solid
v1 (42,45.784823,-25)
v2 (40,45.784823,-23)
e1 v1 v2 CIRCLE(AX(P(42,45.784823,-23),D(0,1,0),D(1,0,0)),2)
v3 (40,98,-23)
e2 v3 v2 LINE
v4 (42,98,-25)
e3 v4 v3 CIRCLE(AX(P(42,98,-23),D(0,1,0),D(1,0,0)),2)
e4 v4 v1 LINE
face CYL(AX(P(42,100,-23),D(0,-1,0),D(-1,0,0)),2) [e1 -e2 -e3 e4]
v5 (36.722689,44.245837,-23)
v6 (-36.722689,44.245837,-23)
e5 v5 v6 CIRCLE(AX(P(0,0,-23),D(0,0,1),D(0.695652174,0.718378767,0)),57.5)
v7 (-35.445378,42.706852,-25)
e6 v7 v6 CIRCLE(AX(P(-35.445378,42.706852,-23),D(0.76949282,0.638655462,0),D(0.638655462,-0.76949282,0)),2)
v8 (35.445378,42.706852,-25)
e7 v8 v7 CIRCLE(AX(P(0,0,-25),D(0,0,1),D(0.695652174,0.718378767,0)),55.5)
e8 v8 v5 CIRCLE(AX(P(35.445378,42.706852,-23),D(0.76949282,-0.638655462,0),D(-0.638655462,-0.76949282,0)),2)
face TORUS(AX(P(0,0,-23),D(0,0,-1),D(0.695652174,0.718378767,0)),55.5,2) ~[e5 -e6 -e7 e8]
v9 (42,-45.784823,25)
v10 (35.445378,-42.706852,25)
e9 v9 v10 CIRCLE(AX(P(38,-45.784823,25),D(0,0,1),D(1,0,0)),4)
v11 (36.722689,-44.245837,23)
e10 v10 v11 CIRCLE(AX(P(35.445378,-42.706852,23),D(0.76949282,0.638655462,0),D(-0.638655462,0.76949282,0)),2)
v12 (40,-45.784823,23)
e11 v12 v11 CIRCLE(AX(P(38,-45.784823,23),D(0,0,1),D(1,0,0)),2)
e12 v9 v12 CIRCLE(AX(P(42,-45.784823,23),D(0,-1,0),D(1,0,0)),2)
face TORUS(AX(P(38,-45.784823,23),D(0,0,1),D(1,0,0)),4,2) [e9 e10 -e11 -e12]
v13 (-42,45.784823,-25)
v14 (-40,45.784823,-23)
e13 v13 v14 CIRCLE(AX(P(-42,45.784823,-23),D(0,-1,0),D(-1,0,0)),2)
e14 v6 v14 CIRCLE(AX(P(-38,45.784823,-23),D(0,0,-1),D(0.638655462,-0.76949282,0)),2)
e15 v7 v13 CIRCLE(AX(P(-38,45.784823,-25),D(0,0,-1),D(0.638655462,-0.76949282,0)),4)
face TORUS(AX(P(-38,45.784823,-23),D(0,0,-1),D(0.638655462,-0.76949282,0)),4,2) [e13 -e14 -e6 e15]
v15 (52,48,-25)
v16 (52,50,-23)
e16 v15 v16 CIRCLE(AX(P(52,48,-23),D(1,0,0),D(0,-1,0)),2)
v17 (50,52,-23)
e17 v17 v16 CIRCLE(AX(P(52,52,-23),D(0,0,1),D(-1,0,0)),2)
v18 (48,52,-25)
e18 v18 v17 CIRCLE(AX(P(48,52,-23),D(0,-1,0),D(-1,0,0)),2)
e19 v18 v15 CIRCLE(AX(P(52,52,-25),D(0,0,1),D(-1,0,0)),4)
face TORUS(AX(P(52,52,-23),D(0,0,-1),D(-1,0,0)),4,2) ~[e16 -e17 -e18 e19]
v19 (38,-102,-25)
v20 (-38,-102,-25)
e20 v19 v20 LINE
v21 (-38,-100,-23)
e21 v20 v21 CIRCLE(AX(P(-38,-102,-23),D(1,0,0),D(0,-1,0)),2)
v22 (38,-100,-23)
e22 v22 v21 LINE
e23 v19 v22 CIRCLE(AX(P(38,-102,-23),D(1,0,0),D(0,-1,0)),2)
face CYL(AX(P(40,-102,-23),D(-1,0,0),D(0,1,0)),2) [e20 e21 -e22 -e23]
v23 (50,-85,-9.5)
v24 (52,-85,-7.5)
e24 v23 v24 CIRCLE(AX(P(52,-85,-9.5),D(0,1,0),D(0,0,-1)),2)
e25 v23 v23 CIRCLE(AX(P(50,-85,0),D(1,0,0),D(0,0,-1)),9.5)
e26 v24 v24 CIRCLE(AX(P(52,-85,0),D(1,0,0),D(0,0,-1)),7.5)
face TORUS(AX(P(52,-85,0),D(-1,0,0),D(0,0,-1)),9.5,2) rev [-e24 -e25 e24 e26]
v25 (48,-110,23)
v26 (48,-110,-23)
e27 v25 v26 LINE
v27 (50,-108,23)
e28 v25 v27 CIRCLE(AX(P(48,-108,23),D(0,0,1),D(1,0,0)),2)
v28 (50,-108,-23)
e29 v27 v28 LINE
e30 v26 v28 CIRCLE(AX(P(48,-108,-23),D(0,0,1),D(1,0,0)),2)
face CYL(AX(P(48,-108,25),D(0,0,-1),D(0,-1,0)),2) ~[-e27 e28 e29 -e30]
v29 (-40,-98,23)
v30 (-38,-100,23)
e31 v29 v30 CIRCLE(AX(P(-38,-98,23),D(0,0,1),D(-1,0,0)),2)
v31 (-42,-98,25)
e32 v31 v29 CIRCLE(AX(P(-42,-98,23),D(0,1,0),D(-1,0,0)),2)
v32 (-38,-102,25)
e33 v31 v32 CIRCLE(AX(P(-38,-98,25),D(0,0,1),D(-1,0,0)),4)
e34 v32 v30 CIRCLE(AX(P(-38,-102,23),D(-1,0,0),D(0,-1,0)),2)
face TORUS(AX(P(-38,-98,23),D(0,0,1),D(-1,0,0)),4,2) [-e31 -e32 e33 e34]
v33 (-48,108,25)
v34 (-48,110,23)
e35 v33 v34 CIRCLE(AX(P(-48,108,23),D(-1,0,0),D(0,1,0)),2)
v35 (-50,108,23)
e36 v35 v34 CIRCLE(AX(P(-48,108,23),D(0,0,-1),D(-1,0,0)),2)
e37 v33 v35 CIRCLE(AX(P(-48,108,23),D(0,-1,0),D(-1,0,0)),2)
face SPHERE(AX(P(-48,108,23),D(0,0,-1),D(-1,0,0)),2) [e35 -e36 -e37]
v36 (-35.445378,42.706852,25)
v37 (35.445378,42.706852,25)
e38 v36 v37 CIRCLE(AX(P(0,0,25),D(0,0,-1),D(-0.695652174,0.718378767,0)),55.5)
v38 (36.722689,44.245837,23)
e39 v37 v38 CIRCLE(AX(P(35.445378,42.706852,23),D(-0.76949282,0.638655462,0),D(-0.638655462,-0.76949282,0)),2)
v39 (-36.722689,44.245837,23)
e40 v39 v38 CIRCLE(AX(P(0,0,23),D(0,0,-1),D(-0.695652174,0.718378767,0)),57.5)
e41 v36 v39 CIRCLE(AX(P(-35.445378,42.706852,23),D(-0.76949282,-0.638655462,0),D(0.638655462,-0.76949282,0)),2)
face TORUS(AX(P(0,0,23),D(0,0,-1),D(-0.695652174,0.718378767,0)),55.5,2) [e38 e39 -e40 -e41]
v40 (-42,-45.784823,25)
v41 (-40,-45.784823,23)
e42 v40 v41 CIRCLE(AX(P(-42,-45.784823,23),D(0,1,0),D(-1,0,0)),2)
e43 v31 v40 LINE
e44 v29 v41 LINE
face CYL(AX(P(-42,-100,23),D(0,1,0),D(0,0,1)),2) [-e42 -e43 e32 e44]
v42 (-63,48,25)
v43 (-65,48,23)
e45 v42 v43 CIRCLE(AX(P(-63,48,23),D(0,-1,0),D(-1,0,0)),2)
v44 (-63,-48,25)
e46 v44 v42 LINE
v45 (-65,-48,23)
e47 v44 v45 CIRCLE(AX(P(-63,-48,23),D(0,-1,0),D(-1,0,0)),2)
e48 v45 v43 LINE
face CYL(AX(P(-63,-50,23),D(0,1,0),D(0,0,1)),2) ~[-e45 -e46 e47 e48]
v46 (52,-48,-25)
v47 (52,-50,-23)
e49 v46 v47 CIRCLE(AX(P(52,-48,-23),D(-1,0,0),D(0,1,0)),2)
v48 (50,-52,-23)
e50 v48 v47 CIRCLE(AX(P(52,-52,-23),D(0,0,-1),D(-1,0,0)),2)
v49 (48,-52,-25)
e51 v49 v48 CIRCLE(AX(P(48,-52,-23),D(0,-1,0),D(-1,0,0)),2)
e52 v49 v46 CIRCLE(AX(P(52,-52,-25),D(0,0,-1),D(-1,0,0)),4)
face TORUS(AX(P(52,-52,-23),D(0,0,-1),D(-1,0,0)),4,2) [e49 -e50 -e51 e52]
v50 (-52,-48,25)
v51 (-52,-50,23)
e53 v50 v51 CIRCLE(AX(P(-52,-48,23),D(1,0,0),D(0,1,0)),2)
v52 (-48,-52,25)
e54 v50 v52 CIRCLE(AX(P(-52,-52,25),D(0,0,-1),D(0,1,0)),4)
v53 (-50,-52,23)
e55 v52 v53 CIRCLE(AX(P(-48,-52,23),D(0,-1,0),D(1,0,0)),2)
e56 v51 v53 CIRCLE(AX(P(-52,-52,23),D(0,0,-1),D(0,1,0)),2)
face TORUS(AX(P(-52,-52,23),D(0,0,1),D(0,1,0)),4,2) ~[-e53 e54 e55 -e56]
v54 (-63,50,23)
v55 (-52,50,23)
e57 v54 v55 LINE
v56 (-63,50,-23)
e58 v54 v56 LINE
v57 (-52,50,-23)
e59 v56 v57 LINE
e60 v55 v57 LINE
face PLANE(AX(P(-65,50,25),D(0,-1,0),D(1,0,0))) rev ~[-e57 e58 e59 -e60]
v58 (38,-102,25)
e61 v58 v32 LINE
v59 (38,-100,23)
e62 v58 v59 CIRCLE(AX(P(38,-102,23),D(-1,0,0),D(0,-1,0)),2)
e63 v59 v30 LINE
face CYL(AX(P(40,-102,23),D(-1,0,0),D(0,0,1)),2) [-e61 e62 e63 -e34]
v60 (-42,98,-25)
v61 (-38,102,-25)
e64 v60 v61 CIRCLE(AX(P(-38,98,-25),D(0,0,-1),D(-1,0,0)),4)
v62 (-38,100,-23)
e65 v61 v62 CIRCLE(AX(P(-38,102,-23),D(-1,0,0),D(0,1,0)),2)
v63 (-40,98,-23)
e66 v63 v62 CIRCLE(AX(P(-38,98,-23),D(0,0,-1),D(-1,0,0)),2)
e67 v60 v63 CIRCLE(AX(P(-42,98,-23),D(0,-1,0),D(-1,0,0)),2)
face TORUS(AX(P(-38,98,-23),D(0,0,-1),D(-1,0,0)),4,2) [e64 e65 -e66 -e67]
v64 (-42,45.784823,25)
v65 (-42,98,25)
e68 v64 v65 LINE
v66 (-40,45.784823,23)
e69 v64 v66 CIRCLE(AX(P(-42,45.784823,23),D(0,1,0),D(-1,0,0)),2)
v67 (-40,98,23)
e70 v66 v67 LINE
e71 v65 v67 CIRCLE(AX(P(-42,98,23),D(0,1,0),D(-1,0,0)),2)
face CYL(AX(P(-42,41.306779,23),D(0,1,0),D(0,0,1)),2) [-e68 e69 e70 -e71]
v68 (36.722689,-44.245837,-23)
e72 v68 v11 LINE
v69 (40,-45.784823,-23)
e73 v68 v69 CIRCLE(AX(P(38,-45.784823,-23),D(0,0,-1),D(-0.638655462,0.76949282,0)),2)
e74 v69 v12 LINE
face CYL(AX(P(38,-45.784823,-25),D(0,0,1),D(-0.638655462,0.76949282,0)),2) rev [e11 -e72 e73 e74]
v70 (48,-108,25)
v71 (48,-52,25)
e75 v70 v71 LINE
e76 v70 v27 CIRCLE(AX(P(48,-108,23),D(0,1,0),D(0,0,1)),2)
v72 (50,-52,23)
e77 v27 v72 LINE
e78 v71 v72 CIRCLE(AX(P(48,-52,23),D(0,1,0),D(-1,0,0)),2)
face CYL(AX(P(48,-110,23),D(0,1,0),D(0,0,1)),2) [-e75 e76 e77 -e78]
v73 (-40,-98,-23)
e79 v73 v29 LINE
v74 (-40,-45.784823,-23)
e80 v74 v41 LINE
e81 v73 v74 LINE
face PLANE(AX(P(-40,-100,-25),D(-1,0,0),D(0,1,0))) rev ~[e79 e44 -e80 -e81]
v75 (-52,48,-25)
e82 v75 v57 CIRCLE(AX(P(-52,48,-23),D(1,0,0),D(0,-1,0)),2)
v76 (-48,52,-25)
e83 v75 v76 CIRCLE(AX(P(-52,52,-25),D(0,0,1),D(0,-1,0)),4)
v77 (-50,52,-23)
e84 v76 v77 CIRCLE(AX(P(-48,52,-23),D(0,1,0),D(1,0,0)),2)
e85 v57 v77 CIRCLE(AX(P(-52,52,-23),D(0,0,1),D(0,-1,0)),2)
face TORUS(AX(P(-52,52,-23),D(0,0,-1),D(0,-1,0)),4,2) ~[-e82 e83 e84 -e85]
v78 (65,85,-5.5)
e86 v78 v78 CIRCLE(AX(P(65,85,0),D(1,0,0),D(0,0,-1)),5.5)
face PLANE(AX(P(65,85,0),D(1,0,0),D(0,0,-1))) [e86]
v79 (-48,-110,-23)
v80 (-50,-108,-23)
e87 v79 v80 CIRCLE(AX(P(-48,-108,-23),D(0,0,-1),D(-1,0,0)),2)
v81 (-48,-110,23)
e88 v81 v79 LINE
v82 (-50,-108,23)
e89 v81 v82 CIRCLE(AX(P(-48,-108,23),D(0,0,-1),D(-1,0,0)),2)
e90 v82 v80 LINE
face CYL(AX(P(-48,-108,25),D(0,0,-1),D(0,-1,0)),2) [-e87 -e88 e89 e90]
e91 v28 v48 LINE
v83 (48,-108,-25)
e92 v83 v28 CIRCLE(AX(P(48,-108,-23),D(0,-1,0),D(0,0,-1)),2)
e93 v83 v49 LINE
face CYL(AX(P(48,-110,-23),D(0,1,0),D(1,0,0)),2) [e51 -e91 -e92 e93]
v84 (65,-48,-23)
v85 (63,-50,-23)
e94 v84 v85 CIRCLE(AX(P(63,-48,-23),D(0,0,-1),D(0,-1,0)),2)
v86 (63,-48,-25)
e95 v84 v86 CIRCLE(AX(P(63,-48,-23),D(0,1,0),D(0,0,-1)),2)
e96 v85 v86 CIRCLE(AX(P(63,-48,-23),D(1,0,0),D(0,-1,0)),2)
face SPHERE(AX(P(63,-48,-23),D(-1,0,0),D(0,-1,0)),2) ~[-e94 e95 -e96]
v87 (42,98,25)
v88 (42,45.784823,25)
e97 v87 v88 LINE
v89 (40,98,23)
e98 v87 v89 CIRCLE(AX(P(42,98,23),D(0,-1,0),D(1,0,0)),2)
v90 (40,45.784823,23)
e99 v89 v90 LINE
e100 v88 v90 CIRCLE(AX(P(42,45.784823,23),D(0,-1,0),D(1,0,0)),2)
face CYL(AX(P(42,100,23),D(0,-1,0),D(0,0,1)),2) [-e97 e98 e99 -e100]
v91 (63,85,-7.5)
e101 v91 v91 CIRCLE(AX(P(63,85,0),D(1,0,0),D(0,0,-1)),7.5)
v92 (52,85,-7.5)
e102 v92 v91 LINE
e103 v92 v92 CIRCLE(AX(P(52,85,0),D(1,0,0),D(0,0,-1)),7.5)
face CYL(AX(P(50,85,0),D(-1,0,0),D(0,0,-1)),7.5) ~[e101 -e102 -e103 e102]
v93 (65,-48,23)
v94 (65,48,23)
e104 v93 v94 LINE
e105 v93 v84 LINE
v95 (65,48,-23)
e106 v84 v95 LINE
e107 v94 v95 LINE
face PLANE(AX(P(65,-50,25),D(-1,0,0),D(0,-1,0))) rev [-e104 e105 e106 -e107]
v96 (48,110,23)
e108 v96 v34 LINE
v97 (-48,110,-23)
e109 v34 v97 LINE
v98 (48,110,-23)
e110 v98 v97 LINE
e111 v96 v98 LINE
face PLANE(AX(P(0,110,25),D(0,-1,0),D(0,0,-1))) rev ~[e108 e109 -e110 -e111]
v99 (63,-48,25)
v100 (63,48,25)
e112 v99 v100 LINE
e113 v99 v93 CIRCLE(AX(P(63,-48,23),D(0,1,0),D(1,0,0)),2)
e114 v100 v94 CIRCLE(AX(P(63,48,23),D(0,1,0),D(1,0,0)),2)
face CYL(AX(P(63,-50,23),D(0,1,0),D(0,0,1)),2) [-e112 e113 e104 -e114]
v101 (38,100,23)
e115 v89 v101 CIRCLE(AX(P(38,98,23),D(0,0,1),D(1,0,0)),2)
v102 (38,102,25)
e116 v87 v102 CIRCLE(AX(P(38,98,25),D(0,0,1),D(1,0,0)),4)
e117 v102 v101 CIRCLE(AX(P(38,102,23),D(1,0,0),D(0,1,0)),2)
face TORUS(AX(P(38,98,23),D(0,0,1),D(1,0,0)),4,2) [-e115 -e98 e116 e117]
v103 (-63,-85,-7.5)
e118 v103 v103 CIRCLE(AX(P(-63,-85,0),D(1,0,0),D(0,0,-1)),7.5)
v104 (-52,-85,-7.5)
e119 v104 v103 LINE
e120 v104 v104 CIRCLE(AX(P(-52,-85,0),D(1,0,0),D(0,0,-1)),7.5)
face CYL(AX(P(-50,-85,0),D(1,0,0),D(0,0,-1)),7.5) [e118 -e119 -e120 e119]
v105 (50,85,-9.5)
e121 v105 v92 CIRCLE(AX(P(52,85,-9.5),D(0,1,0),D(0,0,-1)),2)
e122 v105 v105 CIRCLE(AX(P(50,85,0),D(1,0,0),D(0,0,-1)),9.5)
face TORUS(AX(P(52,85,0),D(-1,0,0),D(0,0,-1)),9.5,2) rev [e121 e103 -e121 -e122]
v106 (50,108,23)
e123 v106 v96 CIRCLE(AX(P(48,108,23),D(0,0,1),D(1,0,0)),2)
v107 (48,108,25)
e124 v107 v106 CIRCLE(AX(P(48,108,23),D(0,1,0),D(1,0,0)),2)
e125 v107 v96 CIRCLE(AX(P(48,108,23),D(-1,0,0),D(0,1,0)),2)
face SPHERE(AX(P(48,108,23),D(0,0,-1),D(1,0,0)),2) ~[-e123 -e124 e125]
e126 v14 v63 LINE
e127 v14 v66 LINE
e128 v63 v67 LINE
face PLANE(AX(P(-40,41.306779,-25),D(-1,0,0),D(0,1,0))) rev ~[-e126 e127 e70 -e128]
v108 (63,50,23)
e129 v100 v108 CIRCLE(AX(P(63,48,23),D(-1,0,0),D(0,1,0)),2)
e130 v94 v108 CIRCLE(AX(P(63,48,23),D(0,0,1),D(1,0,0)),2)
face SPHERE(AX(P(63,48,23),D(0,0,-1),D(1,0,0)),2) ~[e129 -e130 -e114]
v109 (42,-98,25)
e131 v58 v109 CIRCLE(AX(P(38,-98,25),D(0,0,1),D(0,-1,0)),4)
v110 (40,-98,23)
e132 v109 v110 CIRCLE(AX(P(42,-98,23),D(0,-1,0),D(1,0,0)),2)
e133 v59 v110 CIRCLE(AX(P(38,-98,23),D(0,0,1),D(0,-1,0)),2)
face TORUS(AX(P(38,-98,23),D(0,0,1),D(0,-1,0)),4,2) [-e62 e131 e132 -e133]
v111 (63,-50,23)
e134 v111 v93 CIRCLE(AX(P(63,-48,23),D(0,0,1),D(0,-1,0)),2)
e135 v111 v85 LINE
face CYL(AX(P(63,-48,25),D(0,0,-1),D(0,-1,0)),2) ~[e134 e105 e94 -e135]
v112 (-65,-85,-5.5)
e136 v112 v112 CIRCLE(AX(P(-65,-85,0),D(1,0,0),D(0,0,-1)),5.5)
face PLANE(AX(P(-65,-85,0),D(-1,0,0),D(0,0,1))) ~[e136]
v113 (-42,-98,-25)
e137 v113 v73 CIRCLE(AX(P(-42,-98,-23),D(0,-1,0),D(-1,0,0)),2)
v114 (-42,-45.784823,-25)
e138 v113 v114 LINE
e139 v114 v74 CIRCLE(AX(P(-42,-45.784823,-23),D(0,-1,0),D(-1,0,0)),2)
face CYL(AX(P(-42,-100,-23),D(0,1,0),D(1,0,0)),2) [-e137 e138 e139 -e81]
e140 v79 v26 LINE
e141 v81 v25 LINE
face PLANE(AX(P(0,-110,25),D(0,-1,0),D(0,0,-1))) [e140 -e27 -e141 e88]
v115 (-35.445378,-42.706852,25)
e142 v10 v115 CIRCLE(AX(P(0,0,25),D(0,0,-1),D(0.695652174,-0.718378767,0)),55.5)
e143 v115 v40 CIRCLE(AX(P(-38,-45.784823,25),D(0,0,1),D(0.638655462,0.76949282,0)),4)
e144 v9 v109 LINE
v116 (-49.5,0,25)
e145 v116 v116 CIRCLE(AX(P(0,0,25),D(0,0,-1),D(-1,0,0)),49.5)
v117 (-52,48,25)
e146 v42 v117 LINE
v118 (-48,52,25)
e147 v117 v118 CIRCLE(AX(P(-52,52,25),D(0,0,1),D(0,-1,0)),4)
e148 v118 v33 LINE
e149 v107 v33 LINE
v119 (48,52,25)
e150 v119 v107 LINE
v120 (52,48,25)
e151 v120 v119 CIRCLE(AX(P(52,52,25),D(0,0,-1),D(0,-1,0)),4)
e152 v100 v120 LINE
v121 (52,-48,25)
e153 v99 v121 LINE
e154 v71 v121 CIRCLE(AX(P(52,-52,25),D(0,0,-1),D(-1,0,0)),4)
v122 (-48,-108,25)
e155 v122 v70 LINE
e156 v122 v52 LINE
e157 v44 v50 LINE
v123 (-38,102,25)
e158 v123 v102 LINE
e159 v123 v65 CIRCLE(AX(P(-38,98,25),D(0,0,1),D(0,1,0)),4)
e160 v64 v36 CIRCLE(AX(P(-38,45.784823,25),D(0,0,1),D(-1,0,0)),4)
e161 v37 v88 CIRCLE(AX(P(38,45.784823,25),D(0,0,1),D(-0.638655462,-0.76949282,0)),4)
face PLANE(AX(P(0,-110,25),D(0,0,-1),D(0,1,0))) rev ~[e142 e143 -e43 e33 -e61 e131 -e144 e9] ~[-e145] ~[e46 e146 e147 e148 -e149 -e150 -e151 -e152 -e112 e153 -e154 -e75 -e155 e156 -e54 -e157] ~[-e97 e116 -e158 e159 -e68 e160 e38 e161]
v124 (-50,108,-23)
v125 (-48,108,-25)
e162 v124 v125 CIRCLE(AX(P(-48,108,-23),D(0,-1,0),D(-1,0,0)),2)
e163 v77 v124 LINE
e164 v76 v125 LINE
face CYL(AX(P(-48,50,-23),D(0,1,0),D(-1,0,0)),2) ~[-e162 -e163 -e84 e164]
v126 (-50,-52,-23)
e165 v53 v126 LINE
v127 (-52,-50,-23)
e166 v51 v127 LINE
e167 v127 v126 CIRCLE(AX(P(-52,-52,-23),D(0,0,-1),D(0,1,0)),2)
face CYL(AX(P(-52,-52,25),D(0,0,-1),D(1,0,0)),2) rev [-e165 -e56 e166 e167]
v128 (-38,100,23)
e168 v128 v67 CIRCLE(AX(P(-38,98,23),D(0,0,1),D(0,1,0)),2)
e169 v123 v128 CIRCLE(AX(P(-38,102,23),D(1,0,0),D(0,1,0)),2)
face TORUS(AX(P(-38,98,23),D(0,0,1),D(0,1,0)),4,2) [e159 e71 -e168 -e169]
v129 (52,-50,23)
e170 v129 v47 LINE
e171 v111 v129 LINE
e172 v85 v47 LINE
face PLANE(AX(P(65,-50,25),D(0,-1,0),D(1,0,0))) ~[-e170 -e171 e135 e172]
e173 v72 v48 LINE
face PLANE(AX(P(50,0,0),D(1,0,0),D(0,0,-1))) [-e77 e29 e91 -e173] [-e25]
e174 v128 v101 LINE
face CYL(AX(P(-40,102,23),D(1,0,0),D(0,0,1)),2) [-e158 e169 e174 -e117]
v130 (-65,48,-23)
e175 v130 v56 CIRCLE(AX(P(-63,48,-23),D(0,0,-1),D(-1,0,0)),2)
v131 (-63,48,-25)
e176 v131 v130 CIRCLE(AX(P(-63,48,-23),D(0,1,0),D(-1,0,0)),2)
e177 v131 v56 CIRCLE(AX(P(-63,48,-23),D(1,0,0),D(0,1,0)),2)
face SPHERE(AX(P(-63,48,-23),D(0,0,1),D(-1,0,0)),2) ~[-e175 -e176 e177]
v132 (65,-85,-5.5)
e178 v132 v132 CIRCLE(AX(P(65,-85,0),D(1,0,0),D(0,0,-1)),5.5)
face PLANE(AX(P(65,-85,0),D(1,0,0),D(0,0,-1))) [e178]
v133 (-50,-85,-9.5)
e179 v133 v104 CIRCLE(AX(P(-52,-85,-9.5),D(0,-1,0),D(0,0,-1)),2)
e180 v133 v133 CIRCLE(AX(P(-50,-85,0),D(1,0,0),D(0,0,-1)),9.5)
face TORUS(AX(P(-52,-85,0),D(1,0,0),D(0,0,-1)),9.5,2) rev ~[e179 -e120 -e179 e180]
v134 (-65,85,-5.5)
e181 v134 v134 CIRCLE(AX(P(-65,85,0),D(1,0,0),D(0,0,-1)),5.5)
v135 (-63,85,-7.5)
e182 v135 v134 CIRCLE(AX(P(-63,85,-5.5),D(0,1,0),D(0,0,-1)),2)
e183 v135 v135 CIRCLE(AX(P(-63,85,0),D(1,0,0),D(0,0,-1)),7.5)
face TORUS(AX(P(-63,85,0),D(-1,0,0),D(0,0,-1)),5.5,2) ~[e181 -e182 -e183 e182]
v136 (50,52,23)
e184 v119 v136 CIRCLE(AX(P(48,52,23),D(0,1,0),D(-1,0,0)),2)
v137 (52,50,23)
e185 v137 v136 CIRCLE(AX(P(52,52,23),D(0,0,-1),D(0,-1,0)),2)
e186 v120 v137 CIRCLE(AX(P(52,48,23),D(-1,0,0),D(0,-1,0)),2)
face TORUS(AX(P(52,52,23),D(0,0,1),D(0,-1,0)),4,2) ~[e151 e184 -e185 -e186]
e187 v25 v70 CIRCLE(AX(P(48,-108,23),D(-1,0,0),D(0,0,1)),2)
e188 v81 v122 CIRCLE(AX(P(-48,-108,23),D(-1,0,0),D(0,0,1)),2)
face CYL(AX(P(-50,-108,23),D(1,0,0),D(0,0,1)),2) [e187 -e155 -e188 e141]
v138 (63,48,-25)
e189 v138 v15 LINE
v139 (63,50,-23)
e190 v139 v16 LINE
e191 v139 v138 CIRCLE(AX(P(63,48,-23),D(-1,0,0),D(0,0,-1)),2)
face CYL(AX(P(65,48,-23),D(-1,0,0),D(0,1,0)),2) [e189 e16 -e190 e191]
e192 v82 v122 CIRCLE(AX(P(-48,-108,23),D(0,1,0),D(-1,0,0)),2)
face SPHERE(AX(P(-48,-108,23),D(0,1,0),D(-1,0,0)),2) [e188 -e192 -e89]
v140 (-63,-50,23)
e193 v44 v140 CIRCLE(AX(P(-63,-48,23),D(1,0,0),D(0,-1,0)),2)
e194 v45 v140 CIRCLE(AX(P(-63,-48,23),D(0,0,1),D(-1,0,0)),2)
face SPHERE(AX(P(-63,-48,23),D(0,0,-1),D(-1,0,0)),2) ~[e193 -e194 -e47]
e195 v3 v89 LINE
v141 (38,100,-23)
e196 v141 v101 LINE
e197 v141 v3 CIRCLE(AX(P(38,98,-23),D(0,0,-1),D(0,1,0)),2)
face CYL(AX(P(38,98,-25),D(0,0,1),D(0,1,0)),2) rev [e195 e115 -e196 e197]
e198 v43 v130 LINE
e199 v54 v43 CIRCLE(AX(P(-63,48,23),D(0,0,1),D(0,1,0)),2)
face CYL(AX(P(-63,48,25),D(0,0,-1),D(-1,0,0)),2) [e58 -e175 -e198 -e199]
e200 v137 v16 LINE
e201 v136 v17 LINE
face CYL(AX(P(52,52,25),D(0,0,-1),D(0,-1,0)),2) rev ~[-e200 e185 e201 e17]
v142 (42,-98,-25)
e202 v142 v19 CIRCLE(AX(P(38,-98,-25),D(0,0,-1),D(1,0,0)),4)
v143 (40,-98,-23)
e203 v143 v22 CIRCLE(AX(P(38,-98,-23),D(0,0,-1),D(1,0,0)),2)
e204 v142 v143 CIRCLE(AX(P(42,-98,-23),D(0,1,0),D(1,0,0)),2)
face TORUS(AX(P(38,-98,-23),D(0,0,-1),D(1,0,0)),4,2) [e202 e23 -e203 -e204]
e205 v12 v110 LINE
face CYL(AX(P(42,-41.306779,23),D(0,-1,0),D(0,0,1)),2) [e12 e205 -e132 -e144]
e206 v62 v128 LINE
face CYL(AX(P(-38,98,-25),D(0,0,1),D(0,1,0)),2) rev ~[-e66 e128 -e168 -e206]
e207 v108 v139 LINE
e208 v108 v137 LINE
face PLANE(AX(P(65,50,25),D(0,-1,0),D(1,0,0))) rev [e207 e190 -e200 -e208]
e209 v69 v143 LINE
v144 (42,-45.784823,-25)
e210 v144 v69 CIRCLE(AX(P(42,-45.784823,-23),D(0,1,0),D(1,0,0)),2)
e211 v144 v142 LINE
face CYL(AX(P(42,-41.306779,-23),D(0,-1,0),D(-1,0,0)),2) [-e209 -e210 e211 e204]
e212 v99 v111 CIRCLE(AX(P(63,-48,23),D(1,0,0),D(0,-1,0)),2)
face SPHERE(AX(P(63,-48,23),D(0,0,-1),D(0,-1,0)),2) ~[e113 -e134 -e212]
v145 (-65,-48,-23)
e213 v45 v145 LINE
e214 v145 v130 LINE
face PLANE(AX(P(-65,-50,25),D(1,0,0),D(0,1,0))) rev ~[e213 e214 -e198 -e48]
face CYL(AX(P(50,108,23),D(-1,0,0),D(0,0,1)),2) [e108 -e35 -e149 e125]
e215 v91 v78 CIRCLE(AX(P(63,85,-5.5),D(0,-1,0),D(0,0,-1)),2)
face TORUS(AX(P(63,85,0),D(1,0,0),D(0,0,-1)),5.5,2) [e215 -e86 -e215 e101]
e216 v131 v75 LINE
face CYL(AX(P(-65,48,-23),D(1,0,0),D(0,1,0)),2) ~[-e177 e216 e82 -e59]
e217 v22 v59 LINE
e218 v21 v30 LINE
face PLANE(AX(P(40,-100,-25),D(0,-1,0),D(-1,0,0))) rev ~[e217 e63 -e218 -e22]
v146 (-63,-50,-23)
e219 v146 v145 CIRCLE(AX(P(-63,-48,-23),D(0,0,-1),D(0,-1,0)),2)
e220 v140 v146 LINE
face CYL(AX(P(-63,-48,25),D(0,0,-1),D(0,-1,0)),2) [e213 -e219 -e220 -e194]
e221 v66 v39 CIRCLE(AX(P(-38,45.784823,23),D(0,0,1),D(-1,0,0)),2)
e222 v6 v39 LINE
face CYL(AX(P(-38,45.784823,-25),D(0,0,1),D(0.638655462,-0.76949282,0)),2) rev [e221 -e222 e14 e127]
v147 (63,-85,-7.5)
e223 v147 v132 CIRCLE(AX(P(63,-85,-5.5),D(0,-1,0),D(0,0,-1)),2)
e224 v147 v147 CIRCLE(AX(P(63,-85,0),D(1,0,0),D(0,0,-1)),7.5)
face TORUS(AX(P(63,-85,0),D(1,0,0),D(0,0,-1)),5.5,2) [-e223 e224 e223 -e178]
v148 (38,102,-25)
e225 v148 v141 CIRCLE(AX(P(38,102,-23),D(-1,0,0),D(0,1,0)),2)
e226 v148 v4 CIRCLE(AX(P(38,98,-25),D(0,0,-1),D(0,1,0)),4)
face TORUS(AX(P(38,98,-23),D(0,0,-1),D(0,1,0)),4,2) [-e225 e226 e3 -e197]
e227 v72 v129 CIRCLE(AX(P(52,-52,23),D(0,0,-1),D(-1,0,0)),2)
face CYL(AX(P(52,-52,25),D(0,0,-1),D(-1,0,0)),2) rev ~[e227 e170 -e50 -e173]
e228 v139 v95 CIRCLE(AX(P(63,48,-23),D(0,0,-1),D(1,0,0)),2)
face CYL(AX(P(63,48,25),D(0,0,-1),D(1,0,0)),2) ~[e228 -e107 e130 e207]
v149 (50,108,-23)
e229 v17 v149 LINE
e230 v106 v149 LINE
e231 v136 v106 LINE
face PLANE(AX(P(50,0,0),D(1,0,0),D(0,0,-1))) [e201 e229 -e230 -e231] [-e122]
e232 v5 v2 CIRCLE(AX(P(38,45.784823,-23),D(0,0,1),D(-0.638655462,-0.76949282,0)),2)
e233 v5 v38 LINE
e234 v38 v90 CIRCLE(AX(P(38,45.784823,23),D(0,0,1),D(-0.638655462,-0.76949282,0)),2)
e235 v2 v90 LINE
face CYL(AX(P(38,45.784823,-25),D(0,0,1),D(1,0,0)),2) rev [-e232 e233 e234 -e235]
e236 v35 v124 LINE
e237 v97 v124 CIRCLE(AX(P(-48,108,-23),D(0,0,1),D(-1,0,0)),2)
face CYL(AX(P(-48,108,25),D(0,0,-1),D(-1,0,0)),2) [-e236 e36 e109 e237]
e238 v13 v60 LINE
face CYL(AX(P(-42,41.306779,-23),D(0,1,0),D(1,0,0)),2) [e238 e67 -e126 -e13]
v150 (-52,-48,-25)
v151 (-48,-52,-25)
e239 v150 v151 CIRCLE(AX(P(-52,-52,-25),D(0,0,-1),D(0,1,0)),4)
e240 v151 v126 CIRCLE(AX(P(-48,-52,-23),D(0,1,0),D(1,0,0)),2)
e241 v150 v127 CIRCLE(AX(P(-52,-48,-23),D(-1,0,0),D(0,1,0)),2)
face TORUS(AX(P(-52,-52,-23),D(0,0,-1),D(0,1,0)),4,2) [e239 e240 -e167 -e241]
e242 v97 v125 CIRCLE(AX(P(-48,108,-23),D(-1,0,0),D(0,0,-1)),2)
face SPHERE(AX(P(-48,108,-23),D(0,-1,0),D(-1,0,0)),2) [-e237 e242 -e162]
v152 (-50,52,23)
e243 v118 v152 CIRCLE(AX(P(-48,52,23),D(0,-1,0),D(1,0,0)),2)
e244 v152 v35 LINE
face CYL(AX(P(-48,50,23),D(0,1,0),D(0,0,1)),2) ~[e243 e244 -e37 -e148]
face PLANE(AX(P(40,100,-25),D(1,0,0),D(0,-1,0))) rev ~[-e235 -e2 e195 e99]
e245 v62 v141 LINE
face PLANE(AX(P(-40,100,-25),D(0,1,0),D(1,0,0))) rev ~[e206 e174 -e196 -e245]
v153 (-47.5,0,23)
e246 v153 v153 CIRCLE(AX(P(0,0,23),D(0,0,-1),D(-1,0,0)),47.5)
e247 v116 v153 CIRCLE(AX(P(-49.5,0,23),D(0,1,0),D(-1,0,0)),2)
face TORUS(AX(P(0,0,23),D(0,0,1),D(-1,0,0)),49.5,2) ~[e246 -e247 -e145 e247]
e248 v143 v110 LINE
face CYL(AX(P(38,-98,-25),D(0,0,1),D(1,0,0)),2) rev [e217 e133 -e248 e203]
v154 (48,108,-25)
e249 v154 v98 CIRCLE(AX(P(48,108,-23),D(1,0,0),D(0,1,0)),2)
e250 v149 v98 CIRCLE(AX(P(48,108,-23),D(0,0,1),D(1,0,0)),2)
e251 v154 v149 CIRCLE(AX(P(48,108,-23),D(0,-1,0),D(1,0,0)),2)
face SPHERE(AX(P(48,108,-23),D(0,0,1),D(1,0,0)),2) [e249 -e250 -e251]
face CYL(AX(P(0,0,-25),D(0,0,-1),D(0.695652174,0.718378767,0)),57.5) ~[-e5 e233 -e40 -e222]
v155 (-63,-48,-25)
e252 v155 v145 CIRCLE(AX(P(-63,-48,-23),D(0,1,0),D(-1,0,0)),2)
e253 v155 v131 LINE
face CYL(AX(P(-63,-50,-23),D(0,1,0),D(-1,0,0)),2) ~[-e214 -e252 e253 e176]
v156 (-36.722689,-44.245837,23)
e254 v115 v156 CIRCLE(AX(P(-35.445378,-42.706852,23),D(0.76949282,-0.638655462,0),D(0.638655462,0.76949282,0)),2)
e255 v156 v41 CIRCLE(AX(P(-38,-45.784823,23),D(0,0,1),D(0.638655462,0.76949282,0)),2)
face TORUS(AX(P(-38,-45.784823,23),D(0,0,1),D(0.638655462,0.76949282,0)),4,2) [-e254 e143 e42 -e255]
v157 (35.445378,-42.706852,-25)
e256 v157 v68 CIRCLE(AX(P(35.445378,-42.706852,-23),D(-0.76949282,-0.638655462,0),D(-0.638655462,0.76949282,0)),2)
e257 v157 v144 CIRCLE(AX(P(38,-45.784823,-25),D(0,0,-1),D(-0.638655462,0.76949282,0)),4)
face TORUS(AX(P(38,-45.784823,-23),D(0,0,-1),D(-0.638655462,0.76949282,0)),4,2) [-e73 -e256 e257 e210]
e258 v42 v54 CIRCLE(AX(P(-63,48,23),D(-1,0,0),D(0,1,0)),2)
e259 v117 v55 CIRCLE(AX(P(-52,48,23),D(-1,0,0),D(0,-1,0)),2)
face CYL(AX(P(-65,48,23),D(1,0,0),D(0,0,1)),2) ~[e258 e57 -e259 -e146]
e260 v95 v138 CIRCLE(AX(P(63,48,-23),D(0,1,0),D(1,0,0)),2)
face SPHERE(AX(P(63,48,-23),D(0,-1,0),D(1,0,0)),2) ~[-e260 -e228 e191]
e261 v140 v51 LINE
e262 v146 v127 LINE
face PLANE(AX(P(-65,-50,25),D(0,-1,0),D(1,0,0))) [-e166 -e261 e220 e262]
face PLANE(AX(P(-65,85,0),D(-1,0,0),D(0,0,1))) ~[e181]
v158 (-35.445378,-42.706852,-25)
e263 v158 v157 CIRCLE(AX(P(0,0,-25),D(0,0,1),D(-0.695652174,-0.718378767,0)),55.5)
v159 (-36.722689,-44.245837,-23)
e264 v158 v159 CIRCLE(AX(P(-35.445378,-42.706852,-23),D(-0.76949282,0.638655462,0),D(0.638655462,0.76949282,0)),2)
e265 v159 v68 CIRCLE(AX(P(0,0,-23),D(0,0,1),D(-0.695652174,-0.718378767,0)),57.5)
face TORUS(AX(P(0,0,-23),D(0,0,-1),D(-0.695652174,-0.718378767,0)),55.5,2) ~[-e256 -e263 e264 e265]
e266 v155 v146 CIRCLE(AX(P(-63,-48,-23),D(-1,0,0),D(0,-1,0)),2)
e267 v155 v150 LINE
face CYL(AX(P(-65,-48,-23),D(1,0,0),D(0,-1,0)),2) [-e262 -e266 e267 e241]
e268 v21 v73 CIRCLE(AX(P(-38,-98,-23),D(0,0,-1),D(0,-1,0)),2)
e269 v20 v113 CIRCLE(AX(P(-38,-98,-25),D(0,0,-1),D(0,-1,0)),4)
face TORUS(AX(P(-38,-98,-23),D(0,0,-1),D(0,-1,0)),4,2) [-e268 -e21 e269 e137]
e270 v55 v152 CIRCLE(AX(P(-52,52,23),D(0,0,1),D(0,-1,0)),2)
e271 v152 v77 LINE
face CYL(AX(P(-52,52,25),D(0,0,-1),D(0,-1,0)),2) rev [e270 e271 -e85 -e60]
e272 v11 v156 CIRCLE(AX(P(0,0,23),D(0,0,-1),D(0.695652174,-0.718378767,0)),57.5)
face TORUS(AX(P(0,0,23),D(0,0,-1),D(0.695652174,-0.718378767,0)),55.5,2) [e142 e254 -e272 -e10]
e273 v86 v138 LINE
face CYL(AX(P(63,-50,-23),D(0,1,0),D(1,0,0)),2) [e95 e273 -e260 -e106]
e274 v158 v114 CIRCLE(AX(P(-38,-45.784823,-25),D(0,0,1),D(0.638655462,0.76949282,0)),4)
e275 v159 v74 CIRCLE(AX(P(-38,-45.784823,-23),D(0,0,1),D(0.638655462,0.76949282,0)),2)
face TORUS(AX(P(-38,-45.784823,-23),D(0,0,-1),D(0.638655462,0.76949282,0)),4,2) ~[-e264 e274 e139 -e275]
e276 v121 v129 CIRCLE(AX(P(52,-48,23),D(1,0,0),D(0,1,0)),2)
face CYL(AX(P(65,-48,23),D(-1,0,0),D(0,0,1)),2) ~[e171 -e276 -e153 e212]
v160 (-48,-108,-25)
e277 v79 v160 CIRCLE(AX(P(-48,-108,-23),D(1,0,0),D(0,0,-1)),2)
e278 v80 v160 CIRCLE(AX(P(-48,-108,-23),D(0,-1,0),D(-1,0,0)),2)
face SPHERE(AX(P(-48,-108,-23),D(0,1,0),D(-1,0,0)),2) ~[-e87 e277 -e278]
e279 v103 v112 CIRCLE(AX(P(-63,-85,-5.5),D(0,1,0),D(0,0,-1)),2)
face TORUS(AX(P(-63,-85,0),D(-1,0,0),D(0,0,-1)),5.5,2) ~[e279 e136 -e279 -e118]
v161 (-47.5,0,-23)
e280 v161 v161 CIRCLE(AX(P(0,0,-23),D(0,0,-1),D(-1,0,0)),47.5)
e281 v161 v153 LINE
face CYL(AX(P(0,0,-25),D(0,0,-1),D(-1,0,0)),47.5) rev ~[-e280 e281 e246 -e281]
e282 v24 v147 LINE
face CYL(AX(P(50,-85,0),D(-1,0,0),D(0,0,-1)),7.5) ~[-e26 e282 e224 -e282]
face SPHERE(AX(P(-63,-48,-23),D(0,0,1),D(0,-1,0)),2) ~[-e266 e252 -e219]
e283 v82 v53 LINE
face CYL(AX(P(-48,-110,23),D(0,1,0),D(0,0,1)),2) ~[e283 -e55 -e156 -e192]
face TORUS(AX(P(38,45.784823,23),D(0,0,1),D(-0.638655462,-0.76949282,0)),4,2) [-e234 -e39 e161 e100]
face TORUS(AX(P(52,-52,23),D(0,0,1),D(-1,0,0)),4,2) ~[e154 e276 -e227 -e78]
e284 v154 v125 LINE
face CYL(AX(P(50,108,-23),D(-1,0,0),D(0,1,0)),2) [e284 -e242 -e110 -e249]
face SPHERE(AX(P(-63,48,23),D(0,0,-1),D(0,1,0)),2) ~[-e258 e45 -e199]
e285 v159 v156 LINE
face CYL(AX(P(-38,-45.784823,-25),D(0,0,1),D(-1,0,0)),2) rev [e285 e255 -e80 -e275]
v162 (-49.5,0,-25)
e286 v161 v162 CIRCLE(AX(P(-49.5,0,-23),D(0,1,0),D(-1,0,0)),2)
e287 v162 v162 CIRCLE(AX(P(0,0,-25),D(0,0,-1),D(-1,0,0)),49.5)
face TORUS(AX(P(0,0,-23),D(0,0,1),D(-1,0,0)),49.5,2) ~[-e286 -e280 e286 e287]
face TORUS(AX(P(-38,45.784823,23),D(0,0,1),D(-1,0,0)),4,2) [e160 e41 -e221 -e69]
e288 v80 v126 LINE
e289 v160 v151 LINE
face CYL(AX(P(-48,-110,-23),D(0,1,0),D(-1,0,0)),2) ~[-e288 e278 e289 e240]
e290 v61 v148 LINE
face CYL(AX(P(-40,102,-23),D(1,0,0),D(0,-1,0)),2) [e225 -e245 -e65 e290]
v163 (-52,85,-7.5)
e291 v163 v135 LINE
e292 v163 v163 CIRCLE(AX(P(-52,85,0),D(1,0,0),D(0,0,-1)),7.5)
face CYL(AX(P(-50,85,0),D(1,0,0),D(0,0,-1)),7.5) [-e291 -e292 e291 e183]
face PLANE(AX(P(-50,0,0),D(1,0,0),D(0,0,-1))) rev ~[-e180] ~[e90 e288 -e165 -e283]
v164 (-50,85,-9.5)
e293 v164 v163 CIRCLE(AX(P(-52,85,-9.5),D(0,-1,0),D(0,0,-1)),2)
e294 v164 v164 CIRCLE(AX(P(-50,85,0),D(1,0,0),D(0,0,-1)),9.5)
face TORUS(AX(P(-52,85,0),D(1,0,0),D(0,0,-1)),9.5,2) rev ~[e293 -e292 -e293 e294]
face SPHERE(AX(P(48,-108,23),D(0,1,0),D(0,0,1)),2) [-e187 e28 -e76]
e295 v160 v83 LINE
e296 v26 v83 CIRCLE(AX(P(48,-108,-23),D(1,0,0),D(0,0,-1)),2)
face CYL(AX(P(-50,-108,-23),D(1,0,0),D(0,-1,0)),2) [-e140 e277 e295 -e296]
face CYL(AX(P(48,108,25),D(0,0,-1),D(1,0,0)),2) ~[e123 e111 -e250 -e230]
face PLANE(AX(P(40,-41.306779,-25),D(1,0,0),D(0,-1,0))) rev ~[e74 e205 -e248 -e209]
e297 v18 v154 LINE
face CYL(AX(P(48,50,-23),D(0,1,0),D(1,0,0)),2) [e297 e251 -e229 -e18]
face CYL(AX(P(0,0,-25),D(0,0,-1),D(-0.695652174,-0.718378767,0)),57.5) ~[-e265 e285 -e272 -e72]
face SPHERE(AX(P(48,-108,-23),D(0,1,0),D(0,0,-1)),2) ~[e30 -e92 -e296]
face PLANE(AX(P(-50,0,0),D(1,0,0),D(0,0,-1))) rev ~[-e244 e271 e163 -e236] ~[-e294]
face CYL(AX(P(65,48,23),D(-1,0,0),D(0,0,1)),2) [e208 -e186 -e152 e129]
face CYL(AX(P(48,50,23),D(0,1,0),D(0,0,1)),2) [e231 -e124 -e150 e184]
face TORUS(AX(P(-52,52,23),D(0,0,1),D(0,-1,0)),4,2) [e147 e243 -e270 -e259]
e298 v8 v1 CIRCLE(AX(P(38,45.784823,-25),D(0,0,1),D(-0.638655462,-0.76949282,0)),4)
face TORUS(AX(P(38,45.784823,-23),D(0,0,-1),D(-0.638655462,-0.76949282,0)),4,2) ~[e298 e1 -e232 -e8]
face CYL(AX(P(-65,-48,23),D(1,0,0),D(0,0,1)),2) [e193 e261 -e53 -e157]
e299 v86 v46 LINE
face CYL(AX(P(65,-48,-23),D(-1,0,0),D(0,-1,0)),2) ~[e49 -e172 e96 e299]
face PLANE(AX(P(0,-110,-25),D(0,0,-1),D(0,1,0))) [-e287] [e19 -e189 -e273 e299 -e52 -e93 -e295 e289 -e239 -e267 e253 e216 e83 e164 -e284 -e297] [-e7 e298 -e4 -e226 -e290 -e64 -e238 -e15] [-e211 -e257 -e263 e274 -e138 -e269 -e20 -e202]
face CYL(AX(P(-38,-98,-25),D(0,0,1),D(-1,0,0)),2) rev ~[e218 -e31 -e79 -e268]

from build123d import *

# Parameters (mm, degrees)
SKETCH1_W           = 50
SKETCH1_H           = 220
BOSS_EXTRUDE1_DEPTH = 50
SKETCH2_R           = 7.5
BOSS_EXTRUDE2_DEPTH = 15
SKETCH5_W           = 15
SKETCH5_H           = 100
BOSS_EXTRUDE3_DEPTH = 50
SKETCH3_R           = 47.5
CUT_EXTRUDE1_DEPTH  = 138.20422734
CUT_EXTRUDE2_DEPTH  = 138.20422734
FILLET1_R           = 2


with BuildPart() as part:
    # Sketch1 → Boss-Extrude1 (new, symmetric)
    with BuildSketch(Plane(origin=(0, 0, 0), x_dir=(0, 0, -1), z_dir=(1, 0, 0))):
        Rectangle(SKETCH1_W, SKETCH1_H)
    extrude(amount=BOSS_EXTRUDE1_DEPTH, both=True)

    # Sketch2 → Boss-Extrude2 (add)
    with BuildSketch(Plane(origin=(50, 0, 0), x_dir=(0, 0, -1), z_dir=(1, 0, 0))):
        with Locations((0, 85)):
            Circle(SKETCH2_R)
        with Locations((0, -85)):
            Circle(SKETCH2_R)
    boss_extrude2 = extrude(amount=BOSS_EXTRUDE2_DEPTH)

    # Mirror1: Boss-Extrude2 across plane
    add(boss_extrude2.mirror(Plane(origin=(0, 0, 0), x_dir=(0, 0, 1), z_dir=(1, 0, 0))))

    # Sketch5 → Boss-Extrude3 (add)
    with BuildSketch(Plane.XY.offset(25)):
        with Locations((-57.5, 0)):
            Rectangle(SKETCH5_W, SKETCH5_H)
    boss_extrude3 = extrude(amount=-BOSS_EXTRUDE3_DEPTH)

    # Mirror2: Boss-Extrude3 across plane
    add(boss_extrude3.mirror(Plane(origin=(0, 0, 0), x_dir=(0, 0, 1), z_dir=(1, 0, 0))))

    # Sketch3 → Cut-Extrude1 (cut, through all)
    with BuildSketch(Plane(origin=(0, 0, -25), x_dir=(-1, 0, 0), z_dir=(0, 0, -1))):
        Circle(SKETCH3_R)
    extrude(amount=-CUT_EXTRUDE1_DEPTH, mode=Mode.SUBTRACT)

    # Sketch4 → Cut-Extrude2 (cut, through all)
    with BuildSketch(Plane(origin=(0, 0, -25), x_dir=(-1, 0, 0), z_dir=(0, 0, -1))):
        with BuildLine():
            Line((40, -100), (40, -41.306779105))
            ThreePointArc((40, -41.306779105), (0, -57.5), (-40, -41.306779105))
            Line((-40, -41.306779105), (-40, -100))
            Line((-40, -100), (40, -100))
        make_face()
        with BuildLine():
            Line((40, 100), (-40, 100))
            Line((-40, 100), (-40, 41.306779105))
            ThreePointArc((-40, 41.306779105), (0, 57.5), (40, 41.306779105))
            Line((40, 41.306779105), (40, 100))
        make_face()
    extrude(amount=-CUT_EXTRUDE2_DEPTH, mode=Mode.SUBTRACT)

    # Fillet1
    fillet1_edges = [part.edges().sort_by_distance(p)[0] for p in [
        (50, -80, -25),
        (50, 85, 7.5),
        (65, 85, 7.5),
        (50, 110, 0),
        (50, -85, 7.5),
        (65, -85, 7.5),
        (-65, 85, 7.5),
        (-50, 85, 7.5),
        (-65, -85, 7.5),
        (-50, -85, 7.5),
        (-50, -80, 25),
        (-50, 80, -25),
        (-50, 50, 0),
        (-50, -50, 0),
        (-65, -50, 0),
        (-65, 50, 0),
        (-57.5, 50, 25),
        (-65, 0, 25),
        (-57.5, -50, 25),
        (-57.5, -50, -25),
        (-65, 0, -25),
        (-57.5, 50, -25),
        (50, -80, 25),
        (50, 80, -25),
        (57.5, -50, -25),
        (65, -50, 0),
        (57.5, -50, 25),
        (65, 0, -25),
        (65, 50, 0),
        (65, 0, 25),
        (57.5, 50, -25),
        (50, 50, 0),
        (57.5, 50, 25),
        (50, -50, 0),
        (50, 80, 25),
        (-50, 110, 0),
        (-50, -80, -25),
        (47.5, 0, 25),
        (47.5, 0, -25),
        (-50, -110, 0),
        (-50, 80, 25),
        (0, -57.5, 25),
        (40, -41.306779105, 0),
        (-40, -70.653389552, 25),
        (-40, -41.306779105, 0),
        (0, -100, 25),
        (-40, -100, 0),
        (40, -70.653389552, 25),
        (40, -100, 0),
        (0, -57.5, -25),
        (40, -70.653389552, -25),
        (0, -100, -25),
        (-40, -70.653389552, -25),
        (0, 57.5, 25),
        (-40, 41.306779105, 0),
        (40, 70.653389552, 25),
        (40, 41.306779105, 0),
        (0, 100, 25),
        (40, 100, 0),
        (-40, 70.653389552, 25),
        (-40, 100, 0),
        (0, 57.5, -25),
        (-40, 70.653389552, -25),
        (0, 110, 25),
        (0, 100, -25),
        (40, 70.653389552, -25),
        (0, 110, -25),
        (0, -110, -25),
        (0, -110, 25),
        (50, -110, 0),
    ]]
    fillet(fillet1_edges, radius=FILLET1_R)


solid = part.part
